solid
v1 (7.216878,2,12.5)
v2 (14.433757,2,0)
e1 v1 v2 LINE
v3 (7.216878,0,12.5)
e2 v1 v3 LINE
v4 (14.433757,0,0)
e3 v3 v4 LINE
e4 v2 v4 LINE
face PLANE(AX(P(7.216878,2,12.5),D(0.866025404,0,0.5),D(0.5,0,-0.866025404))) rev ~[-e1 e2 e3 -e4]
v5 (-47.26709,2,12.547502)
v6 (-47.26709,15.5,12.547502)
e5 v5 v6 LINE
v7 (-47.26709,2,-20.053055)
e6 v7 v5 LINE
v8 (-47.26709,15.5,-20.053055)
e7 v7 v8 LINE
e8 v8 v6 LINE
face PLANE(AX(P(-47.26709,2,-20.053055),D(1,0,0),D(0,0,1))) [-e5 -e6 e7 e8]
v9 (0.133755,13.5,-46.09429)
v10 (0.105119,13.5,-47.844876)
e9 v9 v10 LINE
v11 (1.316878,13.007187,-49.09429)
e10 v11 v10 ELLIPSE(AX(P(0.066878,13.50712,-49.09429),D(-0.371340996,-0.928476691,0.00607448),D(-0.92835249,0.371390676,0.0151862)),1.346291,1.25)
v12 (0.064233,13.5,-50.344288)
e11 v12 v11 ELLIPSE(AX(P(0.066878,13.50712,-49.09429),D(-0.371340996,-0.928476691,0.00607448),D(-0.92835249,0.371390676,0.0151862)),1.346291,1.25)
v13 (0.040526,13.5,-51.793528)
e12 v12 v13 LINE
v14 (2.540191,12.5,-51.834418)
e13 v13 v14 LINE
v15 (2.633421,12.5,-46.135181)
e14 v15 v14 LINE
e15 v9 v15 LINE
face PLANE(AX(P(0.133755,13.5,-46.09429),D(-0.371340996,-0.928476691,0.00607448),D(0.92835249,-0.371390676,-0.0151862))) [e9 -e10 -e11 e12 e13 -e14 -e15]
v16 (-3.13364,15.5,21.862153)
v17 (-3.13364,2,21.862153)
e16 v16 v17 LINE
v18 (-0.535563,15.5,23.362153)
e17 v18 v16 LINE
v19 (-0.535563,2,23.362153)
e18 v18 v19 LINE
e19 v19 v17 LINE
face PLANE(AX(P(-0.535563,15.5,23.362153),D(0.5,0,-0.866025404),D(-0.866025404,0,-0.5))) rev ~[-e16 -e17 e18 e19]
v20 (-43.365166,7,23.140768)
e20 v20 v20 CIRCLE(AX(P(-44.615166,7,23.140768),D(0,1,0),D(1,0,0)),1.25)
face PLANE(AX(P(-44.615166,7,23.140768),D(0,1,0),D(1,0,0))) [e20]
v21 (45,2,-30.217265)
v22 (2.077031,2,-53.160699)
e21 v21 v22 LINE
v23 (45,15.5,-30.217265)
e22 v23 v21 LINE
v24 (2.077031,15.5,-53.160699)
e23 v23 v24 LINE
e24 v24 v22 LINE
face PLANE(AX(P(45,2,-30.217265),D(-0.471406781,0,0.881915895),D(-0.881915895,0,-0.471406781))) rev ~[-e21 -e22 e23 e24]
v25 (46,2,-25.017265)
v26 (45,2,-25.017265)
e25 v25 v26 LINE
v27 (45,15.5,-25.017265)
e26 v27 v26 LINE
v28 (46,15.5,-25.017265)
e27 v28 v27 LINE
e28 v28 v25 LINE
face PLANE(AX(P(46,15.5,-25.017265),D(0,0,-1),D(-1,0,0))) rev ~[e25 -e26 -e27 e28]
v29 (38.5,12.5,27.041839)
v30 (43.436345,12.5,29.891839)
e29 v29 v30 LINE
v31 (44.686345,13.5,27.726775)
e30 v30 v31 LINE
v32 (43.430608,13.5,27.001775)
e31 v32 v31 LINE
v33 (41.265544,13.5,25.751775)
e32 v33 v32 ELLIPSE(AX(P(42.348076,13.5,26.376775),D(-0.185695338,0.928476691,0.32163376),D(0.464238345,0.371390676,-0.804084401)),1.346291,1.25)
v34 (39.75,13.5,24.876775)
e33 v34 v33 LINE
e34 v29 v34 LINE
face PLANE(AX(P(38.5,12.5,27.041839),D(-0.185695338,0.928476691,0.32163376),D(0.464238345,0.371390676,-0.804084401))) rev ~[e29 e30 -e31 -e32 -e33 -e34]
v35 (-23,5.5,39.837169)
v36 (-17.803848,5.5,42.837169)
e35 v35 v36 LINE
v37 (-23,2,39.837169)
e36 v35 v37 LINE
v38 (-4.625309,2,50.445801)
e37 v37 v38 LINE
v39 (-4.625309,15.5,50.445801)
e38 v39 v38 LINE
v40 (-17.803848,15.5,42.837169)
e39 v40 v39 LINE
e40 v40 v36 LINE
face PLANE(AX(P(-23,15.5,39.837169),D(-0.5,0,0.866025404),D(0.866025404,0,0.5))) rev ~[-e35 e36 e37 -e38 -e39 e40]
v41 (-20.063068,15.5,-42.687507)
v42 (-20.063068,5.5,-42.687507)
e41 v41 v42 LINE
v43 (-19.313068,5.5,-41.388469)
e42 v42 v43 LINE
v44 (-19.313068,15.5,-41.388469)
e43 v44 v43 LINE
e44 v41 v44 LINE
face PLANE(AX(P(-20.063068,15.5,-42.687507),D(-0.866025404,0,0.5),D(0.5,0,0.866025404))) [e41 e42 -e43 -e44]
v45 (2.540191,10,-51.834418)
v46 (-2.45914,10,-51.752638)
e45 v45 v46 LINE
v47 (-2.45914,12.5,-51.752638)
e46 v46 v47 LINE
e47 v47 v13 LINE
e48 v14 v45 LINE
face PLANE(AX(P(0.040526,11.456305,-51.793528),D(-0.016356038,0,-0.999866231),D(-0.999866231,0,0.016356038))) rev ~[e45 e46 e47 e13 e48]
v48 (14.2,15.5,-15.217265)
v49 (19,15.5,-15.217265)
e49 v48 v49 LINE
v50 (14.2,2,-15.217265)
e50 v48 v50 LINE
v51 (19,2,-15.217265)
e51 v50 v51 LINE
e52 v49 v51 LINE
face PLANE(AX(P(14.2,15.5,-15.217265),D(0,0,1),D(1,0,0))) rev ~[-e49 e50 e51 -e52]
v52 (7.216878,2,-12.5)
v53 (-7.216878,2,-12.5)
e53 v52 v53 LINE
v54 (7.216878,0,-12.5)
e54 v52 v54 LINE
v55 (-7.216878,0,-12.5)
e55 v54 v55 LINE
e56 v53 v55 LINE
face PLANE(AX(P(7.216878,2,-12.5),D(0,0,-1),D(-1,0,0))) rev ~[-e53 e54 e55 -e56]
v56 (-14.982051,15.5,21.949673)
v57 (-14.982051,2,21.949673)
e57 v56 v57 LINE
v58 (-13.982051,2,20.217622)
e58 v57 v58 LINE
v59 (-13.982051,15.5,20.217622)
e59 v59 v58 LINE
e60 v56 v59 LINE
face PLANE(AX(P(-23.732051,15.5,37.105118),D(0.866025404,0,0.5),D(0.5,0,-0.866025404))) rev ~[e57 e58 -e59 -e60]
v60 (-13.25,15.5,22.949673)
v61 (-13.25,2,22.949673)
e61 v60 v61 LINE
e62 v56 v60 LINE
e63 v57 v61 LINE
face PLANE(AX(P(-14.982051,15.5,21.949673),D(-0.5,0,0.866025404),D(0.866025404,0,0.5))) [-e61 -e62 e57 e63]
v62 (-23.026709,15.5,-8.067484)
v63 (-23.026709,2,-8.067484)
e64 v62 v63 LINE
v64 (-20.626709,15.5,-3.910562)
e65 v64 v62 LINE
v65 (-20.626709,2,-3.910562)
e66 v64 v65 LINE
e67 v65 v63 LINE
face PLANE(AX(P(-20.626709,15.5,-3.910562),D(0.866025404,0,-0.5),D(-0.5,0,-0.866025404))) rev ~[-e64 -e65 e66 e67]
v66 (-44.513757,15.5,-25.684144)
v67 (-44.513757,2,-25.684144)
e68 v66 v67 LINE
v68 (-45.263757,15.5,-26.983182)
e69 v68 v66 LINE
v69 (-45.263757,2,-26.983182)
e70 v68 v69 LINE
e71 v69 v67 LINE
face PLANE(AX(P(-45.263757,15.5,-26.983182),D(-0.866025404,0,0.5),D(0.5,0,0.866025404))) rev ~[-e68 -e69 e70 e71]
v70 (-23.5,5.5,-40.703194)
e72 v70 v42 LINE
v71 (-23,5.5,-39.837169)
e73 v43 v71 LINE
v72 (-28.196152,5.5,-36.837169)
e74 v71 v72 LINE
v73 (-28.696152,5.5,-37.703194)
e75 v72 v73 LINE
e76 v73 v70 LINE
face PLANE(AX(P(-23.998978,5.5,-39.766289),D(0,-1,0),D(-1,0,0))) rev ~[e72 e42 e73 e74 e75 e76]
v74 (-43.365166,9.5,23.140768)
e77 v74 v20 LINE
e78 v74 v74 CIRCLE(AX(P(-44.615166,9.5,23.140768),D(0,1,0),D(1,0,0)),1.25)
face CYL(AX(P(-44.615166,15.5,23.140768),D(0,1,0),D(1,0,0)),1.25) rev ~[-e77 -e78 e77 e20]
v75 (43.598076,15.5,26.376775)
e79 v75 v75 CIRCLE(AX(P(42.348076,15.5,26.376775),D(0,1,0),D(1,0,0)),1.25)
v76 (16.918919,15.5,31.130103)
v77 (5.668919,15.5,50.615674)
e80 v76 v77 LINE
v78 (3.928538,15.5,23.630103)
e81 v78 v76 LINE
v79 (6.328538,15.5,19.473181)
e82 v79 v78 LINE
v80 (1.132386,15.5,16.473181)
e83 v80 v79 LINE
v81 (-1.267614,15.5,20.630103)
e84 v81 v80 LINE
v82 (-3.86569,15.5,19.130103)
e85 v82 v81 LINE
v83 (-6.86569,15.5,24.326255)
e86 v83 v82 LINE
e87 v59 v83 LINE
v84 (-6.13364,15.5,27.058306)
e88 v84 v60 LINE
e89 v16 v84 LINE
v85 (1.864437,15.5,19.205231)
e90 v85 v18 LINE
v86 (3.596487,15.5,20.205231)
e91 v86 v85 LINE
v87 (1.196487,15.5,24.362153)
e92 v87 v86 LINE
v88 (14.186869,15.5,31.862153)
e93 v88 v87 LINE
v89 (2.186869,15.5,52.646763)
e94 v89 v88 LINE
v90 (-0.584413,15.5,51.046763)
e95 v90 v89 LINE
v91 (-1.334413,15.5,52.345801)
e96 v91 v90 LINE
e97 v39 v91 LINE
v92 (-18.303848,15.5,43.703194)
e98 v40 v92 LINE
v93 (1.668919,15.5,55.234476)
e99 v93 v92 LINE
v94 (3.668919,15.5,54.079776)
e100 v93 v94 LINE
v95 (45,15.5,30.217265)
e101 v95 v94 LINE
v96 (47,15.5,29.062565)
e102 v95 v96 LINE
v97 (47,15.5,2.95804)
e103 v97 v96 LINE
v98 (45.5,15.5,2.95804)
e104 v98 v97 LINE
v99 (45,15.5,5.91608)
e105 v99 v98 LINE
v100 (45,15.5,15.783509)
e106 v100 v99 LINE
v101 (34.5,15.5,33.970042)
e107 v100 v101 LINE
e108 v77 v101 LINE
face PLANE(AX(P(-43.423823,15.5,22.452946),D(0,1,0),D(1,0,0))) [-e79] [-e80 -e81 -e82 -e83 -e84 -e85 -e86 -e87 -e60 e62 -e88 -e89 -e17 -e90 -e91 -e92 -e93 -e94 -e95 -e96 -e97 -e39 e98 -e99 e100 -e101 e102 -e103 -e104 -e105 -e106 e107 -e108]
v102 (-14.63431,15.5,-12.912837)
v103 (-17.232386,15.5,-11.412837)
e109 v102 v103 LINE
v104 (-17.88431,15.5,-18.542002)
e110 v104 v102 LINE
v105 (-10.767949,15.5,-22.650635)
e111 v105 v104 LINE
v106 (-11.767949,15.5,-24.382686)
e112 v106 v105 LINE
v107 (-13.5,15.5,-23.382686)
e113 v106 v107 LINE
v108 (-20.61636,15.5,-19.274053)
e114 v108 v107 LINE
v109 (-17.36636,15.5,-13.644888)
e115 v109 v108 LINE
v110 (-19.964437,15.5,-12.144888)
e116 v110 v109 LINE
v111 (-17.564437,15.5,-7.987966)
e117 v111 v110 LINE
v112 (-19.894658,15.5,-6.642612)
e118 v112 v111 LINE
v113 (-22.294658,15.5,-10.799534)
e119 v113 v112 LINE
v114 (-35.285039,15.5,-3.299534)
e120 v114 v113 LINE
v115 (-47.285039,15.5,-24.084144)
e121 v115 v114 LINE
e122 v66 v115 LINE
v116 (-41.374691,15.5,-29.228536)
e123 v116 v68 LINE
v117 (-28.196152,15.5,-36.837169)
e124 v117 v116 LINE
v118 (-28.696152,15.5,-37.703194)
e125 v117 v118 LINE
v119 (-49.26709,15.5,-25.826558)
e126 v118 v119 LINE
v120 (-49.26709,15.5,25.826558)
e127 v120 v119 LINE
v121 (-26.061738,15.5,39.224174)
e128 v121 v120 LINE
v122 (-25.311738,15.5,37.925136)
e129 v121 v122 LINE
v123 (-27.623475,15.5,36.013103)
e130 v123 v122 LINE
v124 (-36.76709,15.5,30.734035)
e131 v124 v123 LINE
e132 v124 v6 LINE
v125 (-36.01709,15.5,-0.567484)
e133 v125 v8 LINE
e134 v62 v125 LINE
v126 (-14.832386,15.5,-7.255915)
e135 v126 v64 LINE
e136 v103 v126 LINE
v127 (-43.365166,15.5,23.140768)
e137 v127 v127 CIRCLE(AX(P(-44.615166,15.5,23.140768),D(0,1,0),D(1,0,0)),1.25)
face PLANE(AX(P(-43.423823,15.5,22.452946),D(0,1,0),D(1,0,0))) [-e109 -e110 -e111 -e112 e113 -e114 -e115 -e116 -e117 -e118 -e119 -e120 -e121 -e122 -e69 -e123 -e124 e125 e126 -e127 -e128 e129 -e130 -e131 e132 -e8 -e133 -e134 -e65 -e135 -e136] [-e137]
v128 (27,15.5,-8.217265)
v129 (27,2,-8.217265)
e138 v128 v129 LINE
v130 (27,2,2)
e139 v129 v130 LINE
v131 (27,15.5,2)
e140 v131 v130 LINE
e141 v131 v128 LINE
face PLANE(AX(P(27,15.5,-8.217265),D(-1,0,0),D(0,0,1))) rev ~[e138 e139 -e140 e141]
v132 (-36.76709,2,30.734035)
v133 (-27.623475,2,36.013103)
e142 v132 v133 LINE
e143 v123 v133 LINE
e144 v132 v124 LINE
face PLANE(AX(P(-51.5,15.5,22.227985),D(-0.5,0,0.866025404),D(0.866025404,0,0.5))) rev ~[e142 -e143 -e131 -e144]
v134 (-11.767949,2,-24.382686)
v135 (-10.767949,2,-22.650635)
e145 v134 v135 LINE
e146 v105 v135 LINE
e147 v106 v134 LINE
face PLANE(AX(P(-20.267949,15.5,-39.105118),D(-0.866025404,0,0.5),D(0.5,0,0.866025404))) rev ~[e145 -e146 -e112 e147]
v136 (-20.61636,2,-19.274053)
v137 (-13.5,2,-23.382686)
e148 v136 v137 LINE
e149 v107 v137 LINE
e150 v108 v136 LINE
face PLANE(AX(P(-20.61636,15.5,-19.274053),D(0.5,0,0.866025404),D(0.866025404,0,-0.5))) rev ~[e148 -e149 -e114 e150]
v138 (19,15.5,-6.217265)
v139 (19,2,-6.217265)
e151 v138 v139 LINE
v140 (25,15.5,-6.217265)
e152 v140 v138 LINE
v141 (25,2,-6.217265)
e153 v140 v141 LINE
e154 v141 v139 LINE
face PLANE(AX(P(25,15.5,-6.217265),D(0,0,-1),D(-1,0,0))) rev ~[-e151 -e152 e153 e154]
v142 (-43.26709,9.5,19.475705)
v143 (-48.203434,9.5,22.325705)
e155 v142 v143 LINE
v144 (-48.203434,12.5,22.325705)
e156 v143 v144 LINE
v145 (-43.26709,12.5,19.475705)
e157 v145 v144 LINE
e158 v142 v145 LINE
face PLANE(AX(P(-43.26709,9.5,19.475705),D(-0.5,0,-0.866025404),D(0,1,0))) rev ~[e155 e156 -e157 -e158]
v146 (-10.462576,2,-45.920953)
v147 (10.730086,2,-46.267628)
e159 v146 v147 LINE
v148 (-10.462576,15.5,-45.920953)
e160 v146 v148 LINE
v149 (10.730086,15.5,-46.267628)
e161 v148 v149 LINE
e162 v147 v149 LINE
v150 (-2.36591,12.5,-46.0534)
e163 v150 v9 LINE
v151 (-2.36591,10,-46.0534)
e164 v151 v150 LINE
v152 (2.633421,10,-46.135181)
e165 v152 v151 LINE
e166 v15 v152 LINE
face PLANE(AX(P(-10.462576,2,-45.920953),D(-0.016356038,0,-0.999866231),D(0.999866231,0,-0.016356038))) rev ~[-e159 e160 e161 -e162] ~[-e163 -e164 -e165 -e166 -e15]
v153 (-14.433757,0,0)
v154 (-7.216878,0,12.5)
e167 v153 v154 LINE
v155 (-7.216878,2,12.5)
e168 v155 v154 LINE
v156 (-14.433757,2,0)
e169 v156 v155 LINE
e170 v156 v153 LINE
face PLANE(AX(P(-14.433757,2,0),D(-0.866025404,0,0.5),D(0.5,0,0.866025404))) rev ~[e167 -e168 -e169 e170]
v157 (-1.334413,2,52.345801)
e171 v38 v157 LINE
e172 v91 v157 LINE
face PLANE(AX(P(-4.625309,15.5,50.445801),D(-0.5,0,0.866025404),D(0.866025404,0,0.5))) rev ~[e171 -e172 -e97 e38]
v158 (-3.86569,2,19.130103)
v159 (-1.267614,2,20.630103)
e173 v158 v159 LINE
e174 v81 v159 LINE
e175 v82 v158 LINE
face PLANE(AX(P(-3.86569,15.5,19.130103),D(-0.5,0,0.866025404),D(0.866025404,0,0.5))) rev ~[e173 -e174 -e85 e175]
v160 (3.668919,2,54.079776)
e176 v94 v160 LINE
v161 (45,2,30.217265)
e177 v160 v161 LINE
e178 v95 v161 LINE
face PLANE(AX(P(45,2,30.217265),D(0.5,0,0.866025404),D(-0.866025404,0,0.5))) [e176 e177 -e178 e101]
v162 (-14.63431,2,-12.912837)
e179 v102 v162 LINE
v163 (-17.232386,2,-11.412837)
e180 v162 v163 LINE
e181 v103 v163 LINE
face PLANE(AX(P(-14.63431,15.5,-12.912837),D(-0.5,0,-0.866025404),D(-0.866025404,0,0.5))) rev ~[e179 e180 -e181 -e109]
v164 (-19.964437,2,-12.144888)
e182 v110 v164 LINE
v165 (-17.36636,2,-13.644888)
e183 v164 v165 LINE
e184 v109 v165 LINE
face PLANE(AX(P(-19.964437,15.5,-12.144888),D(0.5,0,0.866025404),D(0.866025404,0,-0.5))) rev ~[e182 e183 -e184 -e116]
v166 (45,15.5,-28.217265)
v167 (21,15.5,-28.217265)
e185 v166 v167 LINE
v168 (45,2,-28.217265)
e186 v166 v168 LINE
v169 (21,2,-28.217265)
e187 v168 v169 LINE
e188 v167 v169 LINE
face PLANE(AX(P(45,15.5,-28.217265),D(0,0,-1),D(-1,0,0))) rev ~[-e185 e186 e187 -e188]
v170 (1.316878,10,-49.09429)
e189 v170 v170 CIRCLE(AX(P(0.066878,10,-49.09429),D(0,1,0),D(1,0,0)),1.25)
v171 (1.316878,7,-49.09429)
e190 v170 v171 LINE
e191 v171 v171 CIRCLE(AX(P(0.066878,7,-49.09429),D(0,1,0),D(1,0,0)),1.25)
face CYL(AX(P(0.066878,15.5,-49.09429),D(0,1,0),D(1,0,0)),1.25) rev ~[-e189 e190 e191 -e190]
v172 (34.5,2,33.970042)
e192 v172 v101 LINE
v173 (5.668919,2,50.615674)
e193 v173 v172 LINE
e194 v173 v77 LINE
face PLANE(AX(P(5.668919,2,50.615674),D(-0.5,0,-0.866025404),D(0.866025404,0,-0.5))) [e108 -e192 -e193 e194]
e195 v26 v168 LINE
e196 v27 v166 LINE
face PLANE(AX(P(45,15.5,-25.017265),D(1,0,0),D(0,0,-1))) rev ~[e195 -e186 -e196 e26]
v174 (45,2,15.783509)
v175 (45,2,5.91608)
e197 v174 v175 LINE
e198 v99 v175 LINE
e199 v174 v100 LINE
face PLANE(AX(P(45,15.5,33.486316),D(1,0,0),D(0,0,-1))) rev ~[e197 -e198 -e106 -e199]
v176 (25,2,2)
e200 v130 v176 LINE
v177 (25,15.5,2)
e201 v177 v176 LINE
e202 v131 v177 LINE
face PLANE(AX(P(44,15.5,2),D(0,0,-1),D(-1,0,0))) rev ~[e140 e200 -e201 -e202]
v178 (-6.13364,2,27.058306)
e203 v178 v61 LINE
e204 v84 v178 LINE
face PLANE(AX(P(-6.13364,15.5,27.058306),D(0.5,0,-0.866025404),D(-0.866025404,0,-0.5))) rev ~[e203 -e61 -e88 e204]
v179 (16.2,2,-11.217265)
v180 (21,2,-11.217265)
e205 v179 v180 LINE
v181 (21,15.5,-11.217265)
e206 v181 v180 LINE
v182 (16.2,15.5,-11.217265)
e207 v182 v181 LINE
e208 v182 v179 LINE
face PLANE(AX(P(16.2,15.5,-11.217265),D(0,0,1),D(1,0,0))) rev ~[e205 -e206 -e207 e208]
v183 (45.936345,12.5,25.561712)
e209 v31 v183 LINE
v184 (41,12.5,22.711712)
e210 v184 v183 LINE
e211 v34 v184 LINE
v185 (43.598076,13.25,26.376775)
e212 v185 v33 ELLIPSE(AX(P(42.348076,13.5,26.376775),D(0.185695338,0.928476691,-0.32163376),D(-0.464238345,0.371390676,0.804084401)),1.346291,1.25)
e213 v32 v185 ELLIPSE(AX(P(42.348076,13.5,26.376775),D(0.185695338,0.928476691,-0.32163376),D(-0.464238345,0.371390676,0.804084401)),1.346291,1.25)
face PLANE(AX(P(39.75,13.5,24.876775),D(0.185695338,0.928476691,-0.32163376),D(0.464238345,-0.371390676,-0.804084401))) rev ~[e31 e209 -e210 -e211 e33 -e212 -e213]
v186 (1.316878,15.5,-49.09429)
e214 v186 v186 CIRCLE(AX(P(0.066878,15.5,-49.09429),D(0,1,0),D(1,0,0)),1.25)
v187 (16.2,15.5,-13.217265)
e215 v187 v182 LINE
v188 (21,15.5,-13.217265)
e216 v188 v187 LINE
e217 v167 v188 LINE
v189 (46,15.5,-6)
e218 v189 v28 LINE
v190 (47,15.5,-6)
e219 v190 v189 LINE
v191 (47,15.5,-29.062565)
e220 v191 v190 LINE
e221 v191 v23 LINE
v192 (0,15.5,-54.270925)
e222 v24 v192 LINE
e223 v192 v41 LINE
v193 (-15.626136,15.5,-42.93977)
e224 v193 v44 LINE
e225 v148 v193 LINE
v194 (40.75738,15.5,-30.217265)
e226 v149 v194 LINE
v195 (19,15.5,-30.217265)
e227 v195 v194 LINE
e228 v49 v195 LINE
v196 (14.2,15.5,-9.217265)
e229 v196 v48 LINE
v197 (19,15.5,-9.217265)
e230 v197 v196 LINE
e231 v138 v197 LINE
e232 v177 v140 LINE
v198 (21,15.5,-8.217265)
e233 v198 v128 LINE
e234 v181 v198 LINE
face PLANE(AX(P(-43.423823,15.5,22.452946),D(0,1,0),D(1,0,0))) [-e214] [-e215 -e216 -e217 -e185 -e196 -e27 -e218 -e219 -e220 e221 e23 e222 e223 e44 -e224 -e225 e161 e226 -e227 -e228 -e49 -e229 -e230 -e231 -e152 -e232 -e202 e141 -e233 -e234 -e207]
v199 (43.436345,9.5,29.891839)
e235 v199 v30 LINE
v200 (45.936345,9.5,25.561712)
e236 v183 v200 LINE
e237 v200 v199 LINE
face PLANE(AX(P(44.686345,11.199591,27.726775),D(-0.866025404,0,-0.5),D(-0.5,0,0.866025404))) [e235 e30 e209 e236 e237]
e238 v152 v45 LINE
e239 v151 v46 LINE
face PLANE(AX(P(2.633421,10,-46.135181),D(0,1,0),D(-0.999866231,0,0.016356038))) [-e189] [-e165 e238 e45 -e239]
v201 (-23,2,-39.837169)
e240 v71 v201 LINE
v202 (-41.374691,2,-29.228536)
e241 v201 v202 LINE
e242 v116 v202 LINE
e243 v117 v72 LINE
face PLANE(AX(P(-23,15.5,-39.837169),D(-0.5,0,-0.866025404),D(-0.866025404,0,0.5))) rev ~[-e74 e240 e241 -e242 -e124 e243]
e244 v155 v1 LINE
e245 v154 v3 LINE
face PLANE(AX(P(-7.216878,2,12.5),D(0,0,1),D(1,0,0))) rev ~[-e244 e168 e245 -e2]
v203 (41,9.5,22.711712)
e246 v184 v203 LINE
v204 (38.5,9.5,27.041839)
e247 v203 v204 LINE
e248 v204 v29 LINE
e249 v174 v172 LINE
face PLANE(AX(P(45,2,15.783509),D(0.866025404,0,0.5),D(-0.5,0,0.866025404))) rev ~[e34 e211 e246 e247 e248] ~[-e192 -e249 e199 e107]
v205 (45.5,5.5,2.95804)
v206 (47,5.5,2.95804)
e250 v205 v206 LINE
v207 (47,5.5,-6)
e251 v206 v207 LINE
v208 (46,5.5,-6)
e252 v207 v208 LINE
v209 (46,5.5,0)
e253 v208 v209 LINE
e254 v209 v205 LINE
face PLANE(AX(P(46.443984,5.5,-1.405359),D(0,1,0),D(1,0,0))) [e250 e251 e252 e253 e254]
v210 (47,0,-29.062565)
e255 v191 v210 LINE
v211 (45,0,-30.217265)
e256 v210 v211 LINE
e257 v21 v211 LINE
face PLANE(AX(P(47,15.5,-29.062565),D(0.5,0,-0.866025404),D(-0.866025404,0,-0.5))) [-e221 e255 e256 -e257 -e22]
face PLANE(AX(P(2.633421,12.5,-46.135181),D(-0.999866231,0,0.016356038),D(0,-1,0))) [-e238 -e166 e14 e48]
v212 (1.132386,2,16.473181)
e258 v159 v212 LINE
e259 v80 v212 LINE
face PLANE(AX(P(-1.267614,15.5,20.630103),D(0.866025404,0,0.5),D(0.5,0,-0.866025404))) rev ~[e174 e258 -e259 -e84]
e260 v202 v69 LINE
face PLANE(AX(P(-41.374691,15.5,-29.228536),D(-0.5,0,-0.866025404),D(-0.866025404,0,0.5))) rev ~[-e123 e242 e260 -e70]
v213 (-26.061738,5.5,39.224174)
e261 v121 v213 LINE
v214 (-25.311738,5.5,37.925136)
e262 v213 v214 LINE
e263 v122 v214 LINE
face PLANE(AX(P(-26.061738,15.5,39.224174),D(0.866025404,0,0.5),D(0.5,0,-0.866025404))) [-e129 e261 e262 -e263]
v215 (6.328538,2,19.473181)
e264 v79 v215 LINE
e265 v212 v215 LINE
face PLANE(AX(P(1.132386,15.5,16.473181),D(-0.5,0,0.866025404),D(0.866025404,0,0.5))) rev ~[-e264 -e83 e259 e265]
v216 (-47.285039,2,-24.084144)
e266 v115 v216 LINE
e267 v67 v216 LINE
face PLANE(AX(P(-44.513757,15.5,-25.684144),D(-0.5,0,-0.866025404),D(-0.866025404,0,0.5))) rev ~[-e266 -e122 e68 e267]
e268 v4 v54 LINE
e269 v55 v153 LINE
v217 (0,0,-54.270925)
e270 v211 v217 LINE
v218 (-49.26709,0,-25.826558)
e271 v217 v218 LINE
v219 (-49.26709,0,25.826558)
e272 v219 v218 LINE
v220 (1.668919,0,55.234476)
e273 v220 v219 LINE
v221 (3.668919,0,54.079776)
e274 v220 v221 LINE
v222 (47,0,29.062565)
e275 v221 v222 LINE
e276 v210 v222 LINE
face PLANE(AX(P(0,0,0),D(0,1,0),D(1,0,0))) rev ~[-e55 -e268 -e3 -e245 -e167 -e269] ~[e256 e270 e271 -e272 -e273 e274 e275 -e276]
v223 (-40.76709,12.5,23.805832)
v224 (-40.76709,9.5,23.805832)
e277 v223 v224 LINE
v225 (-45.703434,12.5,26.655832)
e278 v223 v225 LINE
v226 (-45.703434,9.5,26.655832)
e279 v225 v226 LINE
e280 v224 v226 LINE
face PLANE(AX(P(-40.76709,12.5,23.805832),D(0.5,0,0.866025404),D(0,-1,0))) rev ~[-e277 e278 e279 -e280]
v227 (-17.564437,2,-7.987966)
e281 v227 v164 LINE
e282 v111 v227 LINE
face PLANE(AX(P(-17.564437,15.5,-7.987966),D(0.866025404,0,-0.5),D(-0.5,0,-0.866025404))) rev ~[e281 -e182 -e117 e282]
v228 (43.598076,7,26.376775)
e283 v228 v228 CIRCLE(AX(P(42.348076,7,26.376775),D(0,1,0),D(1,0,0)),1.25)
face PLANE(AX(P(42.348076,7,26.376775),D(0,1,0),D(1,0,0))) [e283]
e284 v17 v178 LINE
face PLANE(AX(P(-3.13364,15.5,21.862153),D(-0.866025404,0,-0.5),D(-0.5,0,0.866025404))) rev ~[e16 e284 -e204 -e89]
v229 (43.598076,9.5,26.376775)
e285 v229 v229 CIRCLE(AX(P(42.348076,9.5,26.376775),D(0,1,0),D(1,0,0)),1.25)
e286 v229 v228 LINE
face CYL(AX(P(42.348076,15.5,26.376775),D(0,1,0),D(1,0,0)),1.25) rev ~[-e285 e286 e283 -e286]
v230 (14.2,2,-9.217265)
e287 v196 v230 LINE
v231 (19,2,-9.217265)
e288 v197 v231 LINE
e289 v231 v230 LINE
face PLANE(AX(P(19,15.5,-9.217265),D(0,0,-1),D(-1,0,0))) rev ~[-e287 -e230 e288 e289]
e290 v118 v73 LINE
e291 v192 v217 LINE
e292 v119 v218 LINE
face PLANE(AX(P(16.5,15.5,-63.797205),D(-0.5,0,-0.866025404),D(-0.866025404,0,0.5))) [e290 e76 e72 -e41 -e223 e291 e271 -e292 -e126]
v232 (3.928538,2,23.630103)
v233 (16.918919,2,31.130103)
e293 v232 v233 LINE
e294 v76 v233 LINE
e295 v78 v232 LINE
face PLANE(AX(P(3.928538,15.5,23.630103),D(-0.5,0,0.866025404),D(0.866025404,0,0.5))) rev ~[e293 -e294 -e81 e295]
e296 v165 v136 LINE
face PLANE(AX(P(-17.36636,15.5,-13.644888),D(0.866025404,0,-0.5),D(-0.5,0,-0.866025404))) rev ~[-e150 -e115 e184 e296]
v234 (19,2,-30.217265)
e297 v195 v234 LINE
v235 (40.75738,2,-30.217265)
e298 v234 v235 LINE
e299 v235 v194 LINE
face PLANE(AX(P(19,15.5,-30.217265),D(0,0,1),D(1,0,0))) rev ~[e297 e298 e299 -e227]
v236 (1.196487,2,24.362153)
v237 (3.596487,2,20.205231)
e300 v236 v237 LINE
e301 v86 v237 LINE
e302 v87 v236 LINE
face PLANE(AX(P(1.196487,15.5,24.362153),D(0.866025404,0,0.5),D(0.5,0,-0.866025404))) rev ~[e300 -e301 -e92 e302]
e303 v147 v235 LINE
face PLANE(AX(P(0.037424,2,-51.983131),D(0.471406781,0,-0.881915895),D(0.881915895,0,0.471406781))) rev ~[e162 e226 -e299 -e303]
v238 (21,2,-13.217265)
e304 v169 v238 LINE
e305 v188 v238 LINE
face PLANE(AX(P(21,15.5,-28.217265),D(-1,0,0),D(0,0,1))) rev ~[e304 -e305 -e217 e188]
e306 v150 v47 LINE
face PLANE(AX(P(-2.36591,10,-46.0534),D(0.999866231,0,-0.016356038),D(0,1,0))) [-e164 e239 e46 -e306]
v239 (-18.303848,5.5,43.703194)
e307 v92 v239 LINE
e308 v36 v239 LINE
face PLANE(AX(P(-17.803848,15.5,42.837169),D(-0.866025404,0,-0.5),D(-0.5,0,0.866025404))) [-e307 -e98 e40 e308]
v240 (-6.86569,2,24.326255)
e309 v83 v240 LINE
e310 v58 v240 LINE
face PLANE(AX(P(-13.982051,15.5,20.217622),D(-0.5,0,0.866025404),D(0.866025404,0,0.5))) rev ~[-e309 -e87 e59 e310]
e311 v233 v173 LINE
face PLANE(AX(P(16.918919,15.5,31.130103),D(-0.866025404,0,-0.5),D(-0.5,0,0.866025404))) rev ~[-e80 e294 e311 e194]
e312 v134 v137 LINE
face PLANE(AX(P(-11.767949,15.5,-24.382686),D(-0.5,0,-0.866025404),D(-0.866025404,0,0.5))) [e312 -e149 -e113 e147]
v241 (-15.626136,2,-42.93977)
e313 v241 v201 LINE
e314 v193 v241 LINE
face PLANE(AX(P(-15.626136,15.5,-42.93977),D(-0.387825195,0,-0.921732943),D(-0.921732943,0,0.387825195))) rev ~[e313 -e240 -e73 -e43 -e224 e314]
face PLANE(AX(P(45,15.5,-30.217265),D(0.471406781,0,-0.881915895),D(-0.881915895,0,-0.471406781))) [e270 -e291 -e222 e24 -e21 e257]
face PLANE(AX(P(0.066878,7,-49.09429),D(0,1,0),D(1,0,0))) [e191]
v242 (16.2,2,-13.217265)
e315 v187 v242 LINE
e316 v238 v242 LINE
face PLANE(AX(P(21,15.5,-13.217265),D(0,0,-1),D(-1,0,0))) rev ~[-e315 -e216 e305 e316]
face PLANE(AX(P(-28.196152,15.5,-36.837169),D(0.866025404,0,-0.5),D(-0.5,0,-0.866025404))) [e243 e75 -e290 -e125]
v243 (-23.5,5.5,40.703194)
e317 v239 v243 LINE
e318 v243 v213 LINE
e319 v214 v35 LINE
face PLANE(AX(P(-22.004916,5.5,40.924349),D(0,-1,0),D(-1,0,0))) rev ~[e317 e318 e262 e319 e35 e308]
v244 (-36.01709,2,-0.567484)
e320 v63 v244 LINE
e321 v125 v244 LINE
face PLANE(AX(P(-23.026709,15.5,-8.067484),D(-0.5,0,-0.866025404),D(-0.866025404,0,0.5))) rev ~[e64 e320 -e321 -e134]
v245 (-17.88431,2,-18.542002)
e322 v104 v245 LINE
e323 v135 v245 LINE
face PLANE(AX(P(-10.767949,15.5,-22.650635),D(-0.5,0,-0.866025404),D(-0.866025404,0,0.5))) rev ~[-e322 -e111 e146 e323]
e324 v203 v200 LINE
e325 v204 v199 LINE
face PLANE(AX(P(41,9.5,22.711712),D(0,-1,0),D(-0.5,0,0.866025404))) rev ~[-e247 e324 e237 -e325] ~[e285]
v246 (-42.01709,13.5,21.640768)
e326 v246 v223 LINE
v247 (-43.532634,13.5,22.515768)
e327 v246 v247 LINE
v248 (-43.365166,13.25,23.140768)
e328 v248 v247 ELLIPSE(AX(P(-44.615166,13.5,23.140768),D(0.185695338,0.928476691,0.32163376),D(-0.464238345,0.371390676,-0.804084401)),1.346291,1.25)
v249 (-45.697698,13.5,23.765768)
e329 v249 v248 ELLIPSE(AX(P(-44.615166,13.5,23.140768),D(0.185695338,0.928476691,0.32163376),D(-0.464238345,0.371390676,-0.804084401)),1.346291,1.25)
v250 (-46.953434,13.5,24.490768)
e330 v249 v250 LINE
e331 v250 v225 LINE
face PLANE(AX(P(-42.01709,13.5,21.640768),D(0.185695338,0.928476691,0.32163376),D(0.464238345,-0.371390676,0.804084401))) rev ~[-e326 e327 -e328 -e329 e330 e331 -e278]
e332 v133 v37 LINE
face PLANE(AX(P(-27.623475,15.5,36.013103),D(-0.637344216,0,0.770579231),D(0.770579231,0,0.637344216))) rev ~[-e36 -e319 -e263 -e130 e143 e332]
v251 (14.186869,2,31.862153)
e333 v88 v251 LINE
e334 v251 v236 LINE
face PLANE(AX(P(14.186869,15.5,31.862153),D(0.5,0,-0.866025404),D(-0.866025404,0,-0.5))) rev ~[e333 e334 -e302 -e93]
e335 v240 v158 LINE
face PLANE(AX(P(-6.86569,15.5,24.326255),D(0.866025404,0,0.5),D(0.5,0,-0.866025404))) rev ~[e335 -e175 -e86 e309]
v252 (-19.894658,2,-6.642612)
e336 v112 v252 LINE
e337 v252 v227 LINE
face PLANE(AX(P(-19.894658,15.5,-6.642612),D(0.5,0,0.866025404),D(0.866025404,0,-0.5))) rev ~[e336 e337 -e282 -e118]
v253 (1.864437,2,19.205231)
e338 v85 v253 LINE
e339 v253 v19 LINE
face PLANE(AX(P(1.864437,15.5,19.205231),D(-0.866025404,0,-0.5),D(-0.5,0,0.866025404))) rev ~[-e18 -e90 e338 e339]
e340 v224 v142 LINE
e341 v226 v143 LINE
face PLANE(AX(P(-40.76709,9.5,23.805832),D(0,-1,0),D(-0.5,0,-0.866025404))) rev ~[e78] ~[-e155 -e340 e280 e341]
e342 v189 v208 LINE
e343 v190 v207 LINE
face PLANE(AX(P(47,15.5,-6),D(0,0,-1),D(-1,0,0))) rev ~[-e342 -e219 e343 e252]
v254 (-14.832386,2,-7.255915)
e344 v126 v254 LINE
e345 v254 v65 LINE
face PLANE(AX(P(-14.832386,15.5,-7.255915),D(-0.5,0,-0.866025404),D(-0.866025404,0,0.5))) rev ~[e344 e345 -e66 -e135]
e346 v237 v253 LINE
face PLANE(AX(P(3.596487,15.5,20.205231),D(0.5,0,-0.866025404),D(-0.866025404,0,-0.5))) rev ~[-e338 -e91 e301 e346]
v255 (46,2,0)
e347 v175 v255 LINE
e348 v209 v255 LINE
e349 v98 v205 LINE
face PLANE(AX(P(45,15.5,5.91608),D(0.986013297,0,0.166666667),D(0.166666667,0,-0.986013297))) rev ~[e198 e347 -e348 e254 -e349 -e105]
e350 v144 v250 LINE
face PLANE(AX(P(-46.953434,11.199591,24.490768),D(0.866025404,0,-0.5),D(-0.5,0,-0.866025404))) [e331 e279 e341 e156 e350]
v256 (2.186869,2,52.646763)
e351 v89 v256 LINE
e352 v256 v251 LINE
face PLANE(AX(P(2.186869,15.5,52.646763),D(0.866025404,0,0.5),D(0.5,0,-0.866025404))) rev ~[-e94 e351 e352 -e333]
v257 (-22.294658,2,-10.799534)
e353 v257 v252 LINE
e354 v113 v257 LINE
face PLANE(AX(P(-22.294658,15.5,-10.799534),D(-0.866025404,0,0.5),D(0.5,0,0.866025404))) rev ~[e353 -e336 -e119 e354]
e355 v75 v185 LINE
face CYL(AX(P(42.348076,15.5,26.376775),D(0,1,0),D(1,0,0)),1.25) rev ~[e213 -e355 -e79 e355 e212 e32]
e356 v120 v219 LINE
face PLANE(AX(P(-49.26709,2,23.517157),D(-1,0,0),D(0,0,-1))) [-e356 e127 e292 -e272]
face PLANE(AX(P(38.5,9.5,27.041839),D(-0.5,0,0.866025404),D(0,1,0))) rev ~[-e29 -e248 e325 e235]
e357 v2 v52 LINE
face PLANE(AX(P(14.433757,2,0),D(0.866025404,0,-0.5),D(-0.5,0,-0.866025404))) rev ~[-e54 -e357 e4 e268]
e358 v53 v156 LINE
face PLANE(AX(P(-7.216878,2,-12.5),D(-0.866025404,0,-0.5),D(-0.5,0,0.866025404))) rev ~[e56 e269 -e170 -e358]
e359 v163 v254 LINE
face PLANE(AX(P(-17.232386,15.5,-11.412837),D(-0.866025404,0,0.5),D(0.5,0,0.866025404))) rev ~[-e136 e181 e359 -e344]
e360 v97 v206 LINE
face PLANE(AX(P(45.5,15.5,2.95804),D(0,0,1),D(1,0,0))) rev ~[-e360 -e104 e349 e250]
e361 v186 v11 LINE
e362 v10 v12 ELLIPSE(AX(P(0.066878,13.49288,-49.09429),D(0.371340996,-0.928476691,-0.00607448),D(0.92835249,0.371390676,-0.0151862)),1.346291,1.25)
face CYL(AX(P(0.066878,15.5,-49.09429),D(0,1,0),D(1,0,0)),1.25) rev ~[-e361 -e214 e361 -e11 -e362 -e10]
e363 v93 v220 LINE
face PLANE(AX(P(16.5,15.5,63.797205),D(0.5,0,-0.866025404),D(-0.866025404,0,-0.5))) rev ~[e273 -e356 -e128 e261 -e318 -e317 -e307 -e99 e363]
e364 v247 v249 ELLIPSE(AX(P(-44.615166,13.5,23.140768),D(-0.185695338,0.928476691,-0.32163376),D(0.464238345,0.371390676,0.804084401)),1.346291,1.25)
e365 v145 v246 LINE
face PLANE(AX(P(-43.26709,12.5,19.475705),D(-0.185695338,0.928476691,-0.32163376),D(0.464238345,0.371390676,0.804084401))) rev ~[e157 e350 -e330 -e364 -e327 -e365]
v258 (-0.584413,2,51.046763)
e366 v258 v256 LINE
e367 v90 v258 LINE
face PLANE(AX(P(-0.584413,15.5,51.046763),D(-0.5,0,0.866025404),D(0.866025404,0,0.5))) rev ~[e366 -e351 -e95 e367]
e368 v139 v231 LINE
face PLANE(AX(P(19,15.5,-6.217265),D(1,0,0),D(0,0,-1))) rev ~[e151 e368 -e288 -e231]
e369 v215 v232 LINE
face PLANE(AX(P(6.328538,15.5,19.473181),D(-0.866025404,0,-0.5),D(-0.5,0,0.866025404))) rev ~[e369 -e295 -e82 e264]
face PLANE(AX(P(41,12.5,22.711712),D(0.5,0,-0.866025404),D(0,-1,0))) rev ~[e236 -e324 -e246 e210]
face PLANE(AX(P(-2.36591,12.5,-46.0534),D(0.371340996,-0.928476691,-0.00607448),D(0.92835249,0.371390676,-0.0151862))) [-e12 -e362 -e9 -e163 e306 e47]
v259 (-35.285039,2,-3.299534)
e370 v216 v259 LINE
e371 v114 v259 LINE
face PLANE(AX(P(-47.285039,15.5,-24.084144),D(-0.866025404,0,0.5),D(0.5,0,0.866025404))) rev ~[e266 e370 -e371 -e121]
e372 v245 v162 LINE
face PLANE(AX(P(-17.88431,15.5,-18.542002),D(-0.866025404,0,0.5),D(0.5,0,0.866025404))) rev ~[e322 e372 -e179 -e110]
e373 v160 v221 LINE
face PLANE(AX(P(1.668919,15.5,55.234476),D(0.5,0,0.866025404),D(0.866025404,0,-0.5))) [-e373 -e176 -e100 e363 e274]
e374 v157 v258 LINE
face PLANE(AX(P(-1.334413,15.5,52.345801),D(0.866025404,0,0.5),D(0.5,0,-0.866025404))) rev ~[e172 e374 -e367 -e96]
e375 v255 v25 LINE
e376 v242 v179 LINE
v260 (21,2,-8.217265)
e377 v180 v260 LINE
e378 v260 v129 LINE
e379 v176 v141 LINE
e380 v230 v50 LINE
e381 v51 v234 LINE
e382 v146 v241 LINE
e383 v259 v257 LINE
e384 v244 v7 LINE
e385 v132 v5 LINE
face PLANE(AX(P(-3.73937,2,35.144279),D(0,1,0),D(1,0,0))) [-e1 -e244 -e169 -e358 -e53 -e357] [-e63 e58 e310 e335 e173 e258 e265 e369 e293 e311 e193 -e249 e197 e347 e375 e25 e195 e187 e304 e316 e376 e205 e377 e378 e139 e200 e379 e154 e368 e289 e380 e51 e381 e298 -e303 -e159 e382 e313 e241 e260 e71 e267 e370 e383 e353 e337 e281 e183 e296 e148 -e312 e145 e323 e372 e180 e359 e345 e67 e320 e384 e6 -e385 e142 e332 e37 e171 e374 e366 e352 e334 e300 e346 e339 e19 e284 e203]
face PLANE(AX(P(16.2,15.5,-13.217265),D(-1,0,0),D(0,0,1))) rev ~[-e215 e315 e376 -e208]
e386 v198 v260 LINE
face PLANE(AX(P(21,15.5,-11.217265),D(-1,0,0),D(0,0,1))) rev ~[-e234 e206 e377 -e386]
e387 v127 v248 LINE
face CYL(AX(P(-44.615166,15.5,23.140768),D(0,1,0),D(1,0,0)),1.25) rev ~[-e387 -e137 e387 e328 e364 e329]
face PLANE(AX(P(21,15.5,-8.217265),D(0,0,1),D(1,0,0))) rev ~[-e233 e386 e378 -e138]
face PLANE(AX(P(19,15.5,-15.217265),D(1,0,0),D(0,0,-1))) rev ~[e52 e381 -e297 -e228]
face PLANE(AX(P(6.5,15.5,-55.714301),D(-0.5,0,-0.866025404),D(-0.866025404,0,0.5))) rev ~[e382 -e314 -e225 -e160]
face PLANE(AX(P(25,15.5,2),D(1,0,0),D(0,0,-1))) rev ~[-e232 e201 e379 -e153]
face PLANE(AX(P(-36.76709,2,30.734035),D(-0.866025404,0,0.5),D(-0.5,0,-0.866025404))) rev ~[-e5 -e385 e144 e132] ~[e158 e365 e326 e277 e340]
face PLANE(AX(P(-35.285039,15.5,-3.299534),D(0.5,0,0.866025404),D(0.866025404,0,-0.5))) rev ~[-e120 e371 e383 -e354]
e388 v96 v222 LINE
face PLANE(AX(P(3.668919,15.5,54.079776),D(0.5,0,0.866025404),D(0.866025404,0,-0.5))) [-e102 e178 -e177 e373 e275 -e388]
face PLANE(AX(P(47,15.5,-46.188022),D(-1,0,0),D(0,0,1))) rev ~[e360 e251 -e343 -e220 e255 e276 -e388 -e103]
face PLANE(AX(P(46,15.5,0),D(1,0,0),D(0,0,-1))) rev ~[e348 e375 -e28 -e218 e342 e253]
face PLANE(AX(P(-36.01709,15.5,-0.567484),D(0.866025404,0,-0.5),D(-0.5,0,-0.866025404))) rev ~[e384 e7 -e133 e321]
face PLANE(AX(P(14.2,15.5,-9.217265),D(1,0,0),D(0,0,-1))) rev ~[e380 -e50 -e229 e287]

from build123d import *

# Parameters (mm, degrees)
BOSS_EXTRUDE1_DEPTH = 15.5
CUT_EXTRUDE1_DEPTH  = 24
CUT_EXTRUDE2_DEPTH  = 13.5
CUT_EXTRUDE3_DEPTH  = 13.5
CUT_EXTRUDE4_DEPTH  = 13.5
SKETCH6_R           = 1.15
CUT_EXTRUDE5_DEPTH  = 10.5
SKETCH8_W           = 5
SKETCH8_H           = 2
CUT_EXTRUDE7_DEPTH  = 5.5
SKETCH9_W           = 5
SKETCH9_H           = 2
CUT_EXTRUDE8_DEPTH  = 5.5
SKETCH10_W          = 5
SKETCH10_H          = 2
CUT_EXTRUDE9_DEPTH  = 5.5
CUT_EXTRUDE10_DEPTH = 20
BOSS_EXTRUDE2_DEPTH = 13.5
BOSS_EXTRUDE3_DEPTH = 13.5
SKETCH15_R          = 1.25
CUT_EXTRUDE11_DEPTH = 8.5
SKETCH19_W          = 17
SKETCH19_H          = 2
CUT_EXTRUDE15_DEPTH = 13.5
CUT_EXTRUDE16_DEPTH = 10
CUT_EXTRUDE17_DEPTH = 5.7
CUT_EXTRUDE18_DEPTH = 5.7
CUT_EXTRUDE19_DEPTH = 5.7


with BuildPart() as part:
    # Sketch1 → Boss-Extrude1 (new body)
    with BuildSketch(Plane(origin=(0, 0, 0), x_dir=(1, 0, 0), z_dir=(0, 1, 0))):
        Polygon((127, 0), (-63.5, 109.985226281), (-63.5, -109.985226281), align=None)
    extrude(amount=BOSS_EXTRUDE1_DEPTH)

    # Sketch2 → Cut-Extrude1 (cut)
    with BuildSketch(Plane(origin=(0, 15.5, 0), x_dir=(1, 0, 0), z_dir=(0, 1, 0))):
        Polygon((-63.5, -109.985226281), (16.5, -63.797204745), (-63.5, -17.60918321), align=None)
        Polygon((-63.5, 109.985226281), (16.5, 63.797204745), (-63.5, 17.60918321), align=None)
        Polygon((127, 0), (47, 46.188021535), (47, -46.188021535), align=None)
    extrude(amount=-CUT_EXTRUDE1_DEPTH, mode=Mode.SUBTRACT)

    # Sketch3 → Cut-Extrude2 (cut)
    with BuildSketch(Plane(origin=(0, 15.5, 0), x_dir=(1, 0, 0), z_dir=(0, 1, 0))):
        Polygon((21, 28.217265235), (21, 13.217265235), (16.2, 13.217265235), (16.2, 11.217265235), (21, 11.217265235), (21, 8.217265235), (27, 8.217265235), (27, 0), (45, 0), (46, 0), (46, 21.217265235), (46, 25.017265235), (45, 25.017265235), (45, 28.217265235), align=None)
        Polygon((14.186868519, -31.862153395), (1.196487462, -24.362153395), (3.596487462, -20.205231457), (1.864436654, -19.205231457), (-0.535563346, -23.362153395), (-3.133639557, -21.862153395), (-6.133639557, -27.058305818), (-13.25, -22.9496732), (-22.25, -38.538130468), (-23, -39.837168574), (-4.625309308, -50.445801192), (-1.334412773, -52.345801192), (-0.584412773, -51.046763086), (2.186868519, -52.646763086), align=None)
        Polygon((-35.28503876, 3.29953441), (-22.294657703, 10.79953441), (-19.894657703, 6.642612472), (-17.564436654, 7.987966222), (-19.964436654, 12.14488816), (-17.366360443, 13.64488816), (-20.616360443, 19.274053285), (-13.5, 23.382685902), (-22.5, 38.97114317), (-23, 39.837168574), (-41.374690692, 29.228535957), (-45.263757468, 26.983182207), (-44.513757468, 25.684144101), (-47.28503876, 24.084144101), align=None)
    extrude(amount=-CUT_EXTRUDE2_DEPTH, mode=Mode.SUBTRACT)

    # Sketch4 → Cut-Extrude3 (cut)
    with BuildSketch(Plane(origin=(0, 15.5, 0), x_dir=(1, 0, 0), z_dir=(0, 1, 0))):
        Polygon((3.668919326, -54.079775788), (16.5, -61.487803669), (35, -50.806823689), (45, -33.486315613), (45, -5.916079783), (46, 0), (44, 0), (44, -2), (25, -2), (25, 6.217265235), (19, 6.217265235), (19, 9.217265235), (14.2, 9.217265235), (14.2, 15.217265235), (19, 15.217265235), (19, 30.217265235), (45, 30.217265235), (45, 45.033320997), (26.5, 55.714300977), (6.5, 55.714300977), (-15.626136458, 42.939770137), (-23, 39.837168574), (-22, 38.105117767), (-20.267949192, 39.105117767), (-10.767949192, 22.650635095), (-17.884309636, 18.542002477), (-14.634309636, 12.912837353), (-17.232385847, 11.412837353), (-14.832385847, 7.255915414), (-20.626708511, 3.910561665), (-23.026708511, 8.067483603), (-36.017089568, 0.567483603), (-49.267089568, 23.517156803), (-61.5, 16.454482672), (-61.5, -4.907477288), (-51.5, -22.227985364), (-27.623475383, -36.013103279), (-23, -39.837168574), (-22, -38.105117767), (-23.732050808, -37.105117767), (-13.982050808, -20.217622393), (-6.865690364, -24.32625501), (-3.865690364, -19.130102587), (-1.267614153, -20.630102587), (1.132385847, -16.473180649), (6.32853827, -19.473180649), (3.92853827, -23.630102587), (16.918919326, -31.130102587), align=None)
    extrude(amount=-CUT_EXTRUDE3_DEPTH, mode=Mode.SUBTRACT)

    # Sketch5 → Cut-Extrude4 (cut)
    with BuildSketch(Plane(origin=(0, 2, 0), x_dir=(1, 0, 0), z_dir=(0, 1, 0))):
        Polygon((14.43375673, 0), (7.216878365, 12.5), (-7.216878365, 12.5), (-14.43375673, 0), (-7.216878365, -12.5), (7.216878365, -12.5), align=None)
    extrude(amount=-CUT_EXTRUDE4_DEPTH, mode=Mode.SUBTRACT)

    # Sketch6 → Cut-Extrude5 (cut)
    with BuildSketch(Plane(origin=(0, 15.5, 0), x_dir=(1, 0, 0), z_dir=(0, 1, 0))):
        with Locations((-59.125, -15.083275783)):
            Circle(SKETCH6_R)
        with Locations((16.5, 58.74538989)):
            Circle(SKETCH6_R)
        with Locations((42.625, -43.662114107)):
            Circle(SKETCH6_R)
    extrude(amount=-CUT_EXTRUDE5_DEPTH, mode=Mode.SUBTRACT)

    # Sketch8 → Cut-Extrude7 (cut)
    with BuildSketch(Plane(origin=(-48.25, 0, 27.857150488), x_dir=(-0.5, 0, -0.866025404), z_dir=(0.866025404, 0, -0.5))):
        with Locations((16.5, 5.1)):
            Rectangle(SKETCH8_W, SKETCH8_H)
    extrude(amount=-CUT_EXTRUDE7_DEPTH, mode=Mode.SUBTRACT)

    # Sketch9 → Cut-Extrude8 (cut)
    with BuildSketch(Plane(origin=(48.25, 0, 27.857150488), x_dir=(-0.5, 0, 0.866025404), z_dir=(-0.866025404, 0, -0.5))):
        with Locations((16.5, 5.1)):
            Rectangle(SKETCH9_W, SKETCH9_H)
    extrude(amount=-CUT_EXTRUDE8_DEPTH, mode=Mode.SUBTRACT)

    # Sketch10 → Cut-Extrude9 (cut)
    with BuildSketch(Plane.XY.offset(-55.714300977)):
        with Locations((16.5, 5.1)):
            Rectangle(SKETCH10_W, SKETCH10_H)
    extrude(amount=-CUT_EXTRUDE9_DEPTH, mode=Mode.SUBTRACT)

    # Sketch12 → Cut-Extrude10 (cut)
    with BuildSketch(Plane(origin=(0, 15.5, 0), x_dir=(1, 0, 0), z_dir=(0, 1, 0))):
        Polygon((-49.267089568, 23.517156803), (-49.267089568, -25.82655788), (-63.5, -17.60918321), (-63.5, 17.60918321), (-49.267089568, 25.82655788), align=None)
        Polygon((3.668919326, -54.079775788), (47, -29.062564697), (47, -46.188021535), (16.5, -63.797204745), (1.668919326, -55.234476326), align=None)
        Polygon((45, 30.217265235), (0, 54.270925304), (16.5, 63.797204745), (47, 46.188021535), (47, 29.062564697), align=None)
    extrude(amount=-CUT_EXTRUDE10_DEPTH, mode=Mode.SUBTRACT)

    # Sketch13 → Boss-Extrude2 (add)
    with BuildSketch(Plane(origin=(0, 2, 0), x_dir=(1, 0, 0), z_dir=(0, 1, 0))):
        Polygon((-49.267089568, -23.517156803), (-49.267089568, 23.517156803), (-47.267089568, 20.053055188), (-47.267089568, -24.671857341), align=None)
        Polygon((45, -30.217265235), (3.668919326, -54.079775788), (5.668919326, -50.615674173), (45, -27.907864158), align=None)
        Polygon((45, 30.217265235), (2.07703105, 53.160698663), (0.037424254, 51.98313113), (40.757379657, 30.217265235), align=None)
    extrude(amount=BOSS_EXTRUDE2_DEPTH)

    # Sketch14 → Boss-Extrude3 (add)
    with BuildSketch(Plane(origin=(0, 2, 0), x_dir=(1, 0, 0), z_dir=(0, 1, 0))):
        Polygon((-47.267089568, -24.671857341), (-36.767089568, -30.734035168), (-47.267089568, -12.547501688), align=None)
        Polygon((0.037424254, 51.98313113), (-10.462575746, 45.920953304), (10.730086226, 46.267627657), align=None)
        Polygon((45, -27.907864158), (45, -15.783508505), (34.5, -33.970041985), align=None)
    extrude(amount=BOSS_EXTRUDE3_DEPTH)

    # Sketch15 → Cut-Extrude11 (cut)
    with BuildSketch(Plane(origin=(0, 15.5, 0), x_dir=(1, 0, 0), z_dir=(0, 1, 0))):
        with Locations((-44.615165779, -23.140768428)):
            Circle(SKETCH15_R)
        with Locations((42.348076211, -26.376775245)):
            Circle(SKETCH15_R)
        with Locations((0.06687762, 49.09429048)):
            Circle(SKETCH15_R)
    extrude(amount=-CUT_EXTRUDE11_DEPTH, mode=Mode.SUBTRACT)

    # Sketch19 → Cut-Extrude15 (cut)
    with BuildSketch(Plane(origin=(0, 15.5, 0), x_dir=(1, 0, 0), z_dir=(0, 1, 0))):
        Polygon((-13.25, -22.9496732), (-22, -38.105117767), (-23.732050808, -37.105117767), (-14.982050808, -21.9496732), align=None)
        Polygon((-13.5, 23.382685902), (-22, 38.105117767), (-20.267949192, 39.105117767), (-11.767949192, 24.382685902), align=None)
        with Locations((35.5, -1)):
            Rectangle(SKETCH19_W, SKETCH19_H)
    extrude(amount=-CUT_EXTRUDE15_DEPTH, mode=Mode.SUBTRACT)

    # Sketch20 → Cut-Extrude16 (cut)
    with BuildSketch(Plane(origin=(0, 15.5, 0), x_dir=(1, 0, 0), z_dir=(0, 1, 0))):
        Polygon((46, 0), (45.5, -2.958039892), (47, -2.958039892), (47, 0), (47, 6), (46, 6), align=None)
        Polygon((-23, 39.837168574), (-28.196152423, 36.837168574), (-28.696152423, 37.703193978), (-23.5, 40.703193978), (-20.063068229, 42.687507461), (-19.313068229, 41.388469355), align=None)
        Polygon((-23, -39.837168574), (-17.803847577, -42.837168574), (-18.303847577, -43.703193978), (-23.5, -40.703193978), (-26.061737691, -39.224174032), (-25.311737691, -37.925135926), align=None)
    extrude(amount=-CUT_EXTRUDE16_DEPTH, mode=Mode.SUBTRACT)

    # Sketch16 → Cut-Extrude17 (cut)
    with BuildSketch(Plane(origin=(-0.753783321, 0, -46.079771924), x_dir=(0.999866231, 0, -0.016356038), z_dir=(0.016356038, 0, 0.999866231))):
        Polygon((-1.612342698, 12.5), (0.887657302, 13.5), (3.387657302, 12.5), (3.387657302, 10), (-1.612342698, 10), align=None)
    extrude(amount=-CUT_EXTRUDE17_DEPTH, mode=Mode.SUBTRACT)

    # Sketch17 → Cut-Extrude18 (cut)
    with BuildSketch(Plane(origin=(-40.883544784, 0, 23.604125586), x_dir=(-0.5, 0, -0.866025404), z_dir=(0.866025404, 0, -0.5))):
        Polygon((-0.232910432, 12.5), (-0.232910432, 9.5), (4.767089568, 9.5), (4.767089568, 12.5), (2.267089568, 13.5), align=None)
    extrude(amount=-CUT_EXTRUDE18_DEPTH, mode=Mode.SUBTRACT)

    # Sketch18 → Cut-Extrude19 (cut)
    with BuildSketch(Plane(origin=(40.584459663, 0, 23.431448711), x_dir=(-0.5, 0, 0.866025404), z_dir=(-0.866025404, 0, -0.5))):
        Polygon((-0.831080674, 12.5), (-0.831080674, 9.5), (4.168919326, 9.5), (4.168919326, 12.5), (1.668919326, 13.5), align=None)
    extrude(amount=-CUT_EXTRUDE19_DEPTH, mode=Mode.SUBTRACT)


solid = part.part
